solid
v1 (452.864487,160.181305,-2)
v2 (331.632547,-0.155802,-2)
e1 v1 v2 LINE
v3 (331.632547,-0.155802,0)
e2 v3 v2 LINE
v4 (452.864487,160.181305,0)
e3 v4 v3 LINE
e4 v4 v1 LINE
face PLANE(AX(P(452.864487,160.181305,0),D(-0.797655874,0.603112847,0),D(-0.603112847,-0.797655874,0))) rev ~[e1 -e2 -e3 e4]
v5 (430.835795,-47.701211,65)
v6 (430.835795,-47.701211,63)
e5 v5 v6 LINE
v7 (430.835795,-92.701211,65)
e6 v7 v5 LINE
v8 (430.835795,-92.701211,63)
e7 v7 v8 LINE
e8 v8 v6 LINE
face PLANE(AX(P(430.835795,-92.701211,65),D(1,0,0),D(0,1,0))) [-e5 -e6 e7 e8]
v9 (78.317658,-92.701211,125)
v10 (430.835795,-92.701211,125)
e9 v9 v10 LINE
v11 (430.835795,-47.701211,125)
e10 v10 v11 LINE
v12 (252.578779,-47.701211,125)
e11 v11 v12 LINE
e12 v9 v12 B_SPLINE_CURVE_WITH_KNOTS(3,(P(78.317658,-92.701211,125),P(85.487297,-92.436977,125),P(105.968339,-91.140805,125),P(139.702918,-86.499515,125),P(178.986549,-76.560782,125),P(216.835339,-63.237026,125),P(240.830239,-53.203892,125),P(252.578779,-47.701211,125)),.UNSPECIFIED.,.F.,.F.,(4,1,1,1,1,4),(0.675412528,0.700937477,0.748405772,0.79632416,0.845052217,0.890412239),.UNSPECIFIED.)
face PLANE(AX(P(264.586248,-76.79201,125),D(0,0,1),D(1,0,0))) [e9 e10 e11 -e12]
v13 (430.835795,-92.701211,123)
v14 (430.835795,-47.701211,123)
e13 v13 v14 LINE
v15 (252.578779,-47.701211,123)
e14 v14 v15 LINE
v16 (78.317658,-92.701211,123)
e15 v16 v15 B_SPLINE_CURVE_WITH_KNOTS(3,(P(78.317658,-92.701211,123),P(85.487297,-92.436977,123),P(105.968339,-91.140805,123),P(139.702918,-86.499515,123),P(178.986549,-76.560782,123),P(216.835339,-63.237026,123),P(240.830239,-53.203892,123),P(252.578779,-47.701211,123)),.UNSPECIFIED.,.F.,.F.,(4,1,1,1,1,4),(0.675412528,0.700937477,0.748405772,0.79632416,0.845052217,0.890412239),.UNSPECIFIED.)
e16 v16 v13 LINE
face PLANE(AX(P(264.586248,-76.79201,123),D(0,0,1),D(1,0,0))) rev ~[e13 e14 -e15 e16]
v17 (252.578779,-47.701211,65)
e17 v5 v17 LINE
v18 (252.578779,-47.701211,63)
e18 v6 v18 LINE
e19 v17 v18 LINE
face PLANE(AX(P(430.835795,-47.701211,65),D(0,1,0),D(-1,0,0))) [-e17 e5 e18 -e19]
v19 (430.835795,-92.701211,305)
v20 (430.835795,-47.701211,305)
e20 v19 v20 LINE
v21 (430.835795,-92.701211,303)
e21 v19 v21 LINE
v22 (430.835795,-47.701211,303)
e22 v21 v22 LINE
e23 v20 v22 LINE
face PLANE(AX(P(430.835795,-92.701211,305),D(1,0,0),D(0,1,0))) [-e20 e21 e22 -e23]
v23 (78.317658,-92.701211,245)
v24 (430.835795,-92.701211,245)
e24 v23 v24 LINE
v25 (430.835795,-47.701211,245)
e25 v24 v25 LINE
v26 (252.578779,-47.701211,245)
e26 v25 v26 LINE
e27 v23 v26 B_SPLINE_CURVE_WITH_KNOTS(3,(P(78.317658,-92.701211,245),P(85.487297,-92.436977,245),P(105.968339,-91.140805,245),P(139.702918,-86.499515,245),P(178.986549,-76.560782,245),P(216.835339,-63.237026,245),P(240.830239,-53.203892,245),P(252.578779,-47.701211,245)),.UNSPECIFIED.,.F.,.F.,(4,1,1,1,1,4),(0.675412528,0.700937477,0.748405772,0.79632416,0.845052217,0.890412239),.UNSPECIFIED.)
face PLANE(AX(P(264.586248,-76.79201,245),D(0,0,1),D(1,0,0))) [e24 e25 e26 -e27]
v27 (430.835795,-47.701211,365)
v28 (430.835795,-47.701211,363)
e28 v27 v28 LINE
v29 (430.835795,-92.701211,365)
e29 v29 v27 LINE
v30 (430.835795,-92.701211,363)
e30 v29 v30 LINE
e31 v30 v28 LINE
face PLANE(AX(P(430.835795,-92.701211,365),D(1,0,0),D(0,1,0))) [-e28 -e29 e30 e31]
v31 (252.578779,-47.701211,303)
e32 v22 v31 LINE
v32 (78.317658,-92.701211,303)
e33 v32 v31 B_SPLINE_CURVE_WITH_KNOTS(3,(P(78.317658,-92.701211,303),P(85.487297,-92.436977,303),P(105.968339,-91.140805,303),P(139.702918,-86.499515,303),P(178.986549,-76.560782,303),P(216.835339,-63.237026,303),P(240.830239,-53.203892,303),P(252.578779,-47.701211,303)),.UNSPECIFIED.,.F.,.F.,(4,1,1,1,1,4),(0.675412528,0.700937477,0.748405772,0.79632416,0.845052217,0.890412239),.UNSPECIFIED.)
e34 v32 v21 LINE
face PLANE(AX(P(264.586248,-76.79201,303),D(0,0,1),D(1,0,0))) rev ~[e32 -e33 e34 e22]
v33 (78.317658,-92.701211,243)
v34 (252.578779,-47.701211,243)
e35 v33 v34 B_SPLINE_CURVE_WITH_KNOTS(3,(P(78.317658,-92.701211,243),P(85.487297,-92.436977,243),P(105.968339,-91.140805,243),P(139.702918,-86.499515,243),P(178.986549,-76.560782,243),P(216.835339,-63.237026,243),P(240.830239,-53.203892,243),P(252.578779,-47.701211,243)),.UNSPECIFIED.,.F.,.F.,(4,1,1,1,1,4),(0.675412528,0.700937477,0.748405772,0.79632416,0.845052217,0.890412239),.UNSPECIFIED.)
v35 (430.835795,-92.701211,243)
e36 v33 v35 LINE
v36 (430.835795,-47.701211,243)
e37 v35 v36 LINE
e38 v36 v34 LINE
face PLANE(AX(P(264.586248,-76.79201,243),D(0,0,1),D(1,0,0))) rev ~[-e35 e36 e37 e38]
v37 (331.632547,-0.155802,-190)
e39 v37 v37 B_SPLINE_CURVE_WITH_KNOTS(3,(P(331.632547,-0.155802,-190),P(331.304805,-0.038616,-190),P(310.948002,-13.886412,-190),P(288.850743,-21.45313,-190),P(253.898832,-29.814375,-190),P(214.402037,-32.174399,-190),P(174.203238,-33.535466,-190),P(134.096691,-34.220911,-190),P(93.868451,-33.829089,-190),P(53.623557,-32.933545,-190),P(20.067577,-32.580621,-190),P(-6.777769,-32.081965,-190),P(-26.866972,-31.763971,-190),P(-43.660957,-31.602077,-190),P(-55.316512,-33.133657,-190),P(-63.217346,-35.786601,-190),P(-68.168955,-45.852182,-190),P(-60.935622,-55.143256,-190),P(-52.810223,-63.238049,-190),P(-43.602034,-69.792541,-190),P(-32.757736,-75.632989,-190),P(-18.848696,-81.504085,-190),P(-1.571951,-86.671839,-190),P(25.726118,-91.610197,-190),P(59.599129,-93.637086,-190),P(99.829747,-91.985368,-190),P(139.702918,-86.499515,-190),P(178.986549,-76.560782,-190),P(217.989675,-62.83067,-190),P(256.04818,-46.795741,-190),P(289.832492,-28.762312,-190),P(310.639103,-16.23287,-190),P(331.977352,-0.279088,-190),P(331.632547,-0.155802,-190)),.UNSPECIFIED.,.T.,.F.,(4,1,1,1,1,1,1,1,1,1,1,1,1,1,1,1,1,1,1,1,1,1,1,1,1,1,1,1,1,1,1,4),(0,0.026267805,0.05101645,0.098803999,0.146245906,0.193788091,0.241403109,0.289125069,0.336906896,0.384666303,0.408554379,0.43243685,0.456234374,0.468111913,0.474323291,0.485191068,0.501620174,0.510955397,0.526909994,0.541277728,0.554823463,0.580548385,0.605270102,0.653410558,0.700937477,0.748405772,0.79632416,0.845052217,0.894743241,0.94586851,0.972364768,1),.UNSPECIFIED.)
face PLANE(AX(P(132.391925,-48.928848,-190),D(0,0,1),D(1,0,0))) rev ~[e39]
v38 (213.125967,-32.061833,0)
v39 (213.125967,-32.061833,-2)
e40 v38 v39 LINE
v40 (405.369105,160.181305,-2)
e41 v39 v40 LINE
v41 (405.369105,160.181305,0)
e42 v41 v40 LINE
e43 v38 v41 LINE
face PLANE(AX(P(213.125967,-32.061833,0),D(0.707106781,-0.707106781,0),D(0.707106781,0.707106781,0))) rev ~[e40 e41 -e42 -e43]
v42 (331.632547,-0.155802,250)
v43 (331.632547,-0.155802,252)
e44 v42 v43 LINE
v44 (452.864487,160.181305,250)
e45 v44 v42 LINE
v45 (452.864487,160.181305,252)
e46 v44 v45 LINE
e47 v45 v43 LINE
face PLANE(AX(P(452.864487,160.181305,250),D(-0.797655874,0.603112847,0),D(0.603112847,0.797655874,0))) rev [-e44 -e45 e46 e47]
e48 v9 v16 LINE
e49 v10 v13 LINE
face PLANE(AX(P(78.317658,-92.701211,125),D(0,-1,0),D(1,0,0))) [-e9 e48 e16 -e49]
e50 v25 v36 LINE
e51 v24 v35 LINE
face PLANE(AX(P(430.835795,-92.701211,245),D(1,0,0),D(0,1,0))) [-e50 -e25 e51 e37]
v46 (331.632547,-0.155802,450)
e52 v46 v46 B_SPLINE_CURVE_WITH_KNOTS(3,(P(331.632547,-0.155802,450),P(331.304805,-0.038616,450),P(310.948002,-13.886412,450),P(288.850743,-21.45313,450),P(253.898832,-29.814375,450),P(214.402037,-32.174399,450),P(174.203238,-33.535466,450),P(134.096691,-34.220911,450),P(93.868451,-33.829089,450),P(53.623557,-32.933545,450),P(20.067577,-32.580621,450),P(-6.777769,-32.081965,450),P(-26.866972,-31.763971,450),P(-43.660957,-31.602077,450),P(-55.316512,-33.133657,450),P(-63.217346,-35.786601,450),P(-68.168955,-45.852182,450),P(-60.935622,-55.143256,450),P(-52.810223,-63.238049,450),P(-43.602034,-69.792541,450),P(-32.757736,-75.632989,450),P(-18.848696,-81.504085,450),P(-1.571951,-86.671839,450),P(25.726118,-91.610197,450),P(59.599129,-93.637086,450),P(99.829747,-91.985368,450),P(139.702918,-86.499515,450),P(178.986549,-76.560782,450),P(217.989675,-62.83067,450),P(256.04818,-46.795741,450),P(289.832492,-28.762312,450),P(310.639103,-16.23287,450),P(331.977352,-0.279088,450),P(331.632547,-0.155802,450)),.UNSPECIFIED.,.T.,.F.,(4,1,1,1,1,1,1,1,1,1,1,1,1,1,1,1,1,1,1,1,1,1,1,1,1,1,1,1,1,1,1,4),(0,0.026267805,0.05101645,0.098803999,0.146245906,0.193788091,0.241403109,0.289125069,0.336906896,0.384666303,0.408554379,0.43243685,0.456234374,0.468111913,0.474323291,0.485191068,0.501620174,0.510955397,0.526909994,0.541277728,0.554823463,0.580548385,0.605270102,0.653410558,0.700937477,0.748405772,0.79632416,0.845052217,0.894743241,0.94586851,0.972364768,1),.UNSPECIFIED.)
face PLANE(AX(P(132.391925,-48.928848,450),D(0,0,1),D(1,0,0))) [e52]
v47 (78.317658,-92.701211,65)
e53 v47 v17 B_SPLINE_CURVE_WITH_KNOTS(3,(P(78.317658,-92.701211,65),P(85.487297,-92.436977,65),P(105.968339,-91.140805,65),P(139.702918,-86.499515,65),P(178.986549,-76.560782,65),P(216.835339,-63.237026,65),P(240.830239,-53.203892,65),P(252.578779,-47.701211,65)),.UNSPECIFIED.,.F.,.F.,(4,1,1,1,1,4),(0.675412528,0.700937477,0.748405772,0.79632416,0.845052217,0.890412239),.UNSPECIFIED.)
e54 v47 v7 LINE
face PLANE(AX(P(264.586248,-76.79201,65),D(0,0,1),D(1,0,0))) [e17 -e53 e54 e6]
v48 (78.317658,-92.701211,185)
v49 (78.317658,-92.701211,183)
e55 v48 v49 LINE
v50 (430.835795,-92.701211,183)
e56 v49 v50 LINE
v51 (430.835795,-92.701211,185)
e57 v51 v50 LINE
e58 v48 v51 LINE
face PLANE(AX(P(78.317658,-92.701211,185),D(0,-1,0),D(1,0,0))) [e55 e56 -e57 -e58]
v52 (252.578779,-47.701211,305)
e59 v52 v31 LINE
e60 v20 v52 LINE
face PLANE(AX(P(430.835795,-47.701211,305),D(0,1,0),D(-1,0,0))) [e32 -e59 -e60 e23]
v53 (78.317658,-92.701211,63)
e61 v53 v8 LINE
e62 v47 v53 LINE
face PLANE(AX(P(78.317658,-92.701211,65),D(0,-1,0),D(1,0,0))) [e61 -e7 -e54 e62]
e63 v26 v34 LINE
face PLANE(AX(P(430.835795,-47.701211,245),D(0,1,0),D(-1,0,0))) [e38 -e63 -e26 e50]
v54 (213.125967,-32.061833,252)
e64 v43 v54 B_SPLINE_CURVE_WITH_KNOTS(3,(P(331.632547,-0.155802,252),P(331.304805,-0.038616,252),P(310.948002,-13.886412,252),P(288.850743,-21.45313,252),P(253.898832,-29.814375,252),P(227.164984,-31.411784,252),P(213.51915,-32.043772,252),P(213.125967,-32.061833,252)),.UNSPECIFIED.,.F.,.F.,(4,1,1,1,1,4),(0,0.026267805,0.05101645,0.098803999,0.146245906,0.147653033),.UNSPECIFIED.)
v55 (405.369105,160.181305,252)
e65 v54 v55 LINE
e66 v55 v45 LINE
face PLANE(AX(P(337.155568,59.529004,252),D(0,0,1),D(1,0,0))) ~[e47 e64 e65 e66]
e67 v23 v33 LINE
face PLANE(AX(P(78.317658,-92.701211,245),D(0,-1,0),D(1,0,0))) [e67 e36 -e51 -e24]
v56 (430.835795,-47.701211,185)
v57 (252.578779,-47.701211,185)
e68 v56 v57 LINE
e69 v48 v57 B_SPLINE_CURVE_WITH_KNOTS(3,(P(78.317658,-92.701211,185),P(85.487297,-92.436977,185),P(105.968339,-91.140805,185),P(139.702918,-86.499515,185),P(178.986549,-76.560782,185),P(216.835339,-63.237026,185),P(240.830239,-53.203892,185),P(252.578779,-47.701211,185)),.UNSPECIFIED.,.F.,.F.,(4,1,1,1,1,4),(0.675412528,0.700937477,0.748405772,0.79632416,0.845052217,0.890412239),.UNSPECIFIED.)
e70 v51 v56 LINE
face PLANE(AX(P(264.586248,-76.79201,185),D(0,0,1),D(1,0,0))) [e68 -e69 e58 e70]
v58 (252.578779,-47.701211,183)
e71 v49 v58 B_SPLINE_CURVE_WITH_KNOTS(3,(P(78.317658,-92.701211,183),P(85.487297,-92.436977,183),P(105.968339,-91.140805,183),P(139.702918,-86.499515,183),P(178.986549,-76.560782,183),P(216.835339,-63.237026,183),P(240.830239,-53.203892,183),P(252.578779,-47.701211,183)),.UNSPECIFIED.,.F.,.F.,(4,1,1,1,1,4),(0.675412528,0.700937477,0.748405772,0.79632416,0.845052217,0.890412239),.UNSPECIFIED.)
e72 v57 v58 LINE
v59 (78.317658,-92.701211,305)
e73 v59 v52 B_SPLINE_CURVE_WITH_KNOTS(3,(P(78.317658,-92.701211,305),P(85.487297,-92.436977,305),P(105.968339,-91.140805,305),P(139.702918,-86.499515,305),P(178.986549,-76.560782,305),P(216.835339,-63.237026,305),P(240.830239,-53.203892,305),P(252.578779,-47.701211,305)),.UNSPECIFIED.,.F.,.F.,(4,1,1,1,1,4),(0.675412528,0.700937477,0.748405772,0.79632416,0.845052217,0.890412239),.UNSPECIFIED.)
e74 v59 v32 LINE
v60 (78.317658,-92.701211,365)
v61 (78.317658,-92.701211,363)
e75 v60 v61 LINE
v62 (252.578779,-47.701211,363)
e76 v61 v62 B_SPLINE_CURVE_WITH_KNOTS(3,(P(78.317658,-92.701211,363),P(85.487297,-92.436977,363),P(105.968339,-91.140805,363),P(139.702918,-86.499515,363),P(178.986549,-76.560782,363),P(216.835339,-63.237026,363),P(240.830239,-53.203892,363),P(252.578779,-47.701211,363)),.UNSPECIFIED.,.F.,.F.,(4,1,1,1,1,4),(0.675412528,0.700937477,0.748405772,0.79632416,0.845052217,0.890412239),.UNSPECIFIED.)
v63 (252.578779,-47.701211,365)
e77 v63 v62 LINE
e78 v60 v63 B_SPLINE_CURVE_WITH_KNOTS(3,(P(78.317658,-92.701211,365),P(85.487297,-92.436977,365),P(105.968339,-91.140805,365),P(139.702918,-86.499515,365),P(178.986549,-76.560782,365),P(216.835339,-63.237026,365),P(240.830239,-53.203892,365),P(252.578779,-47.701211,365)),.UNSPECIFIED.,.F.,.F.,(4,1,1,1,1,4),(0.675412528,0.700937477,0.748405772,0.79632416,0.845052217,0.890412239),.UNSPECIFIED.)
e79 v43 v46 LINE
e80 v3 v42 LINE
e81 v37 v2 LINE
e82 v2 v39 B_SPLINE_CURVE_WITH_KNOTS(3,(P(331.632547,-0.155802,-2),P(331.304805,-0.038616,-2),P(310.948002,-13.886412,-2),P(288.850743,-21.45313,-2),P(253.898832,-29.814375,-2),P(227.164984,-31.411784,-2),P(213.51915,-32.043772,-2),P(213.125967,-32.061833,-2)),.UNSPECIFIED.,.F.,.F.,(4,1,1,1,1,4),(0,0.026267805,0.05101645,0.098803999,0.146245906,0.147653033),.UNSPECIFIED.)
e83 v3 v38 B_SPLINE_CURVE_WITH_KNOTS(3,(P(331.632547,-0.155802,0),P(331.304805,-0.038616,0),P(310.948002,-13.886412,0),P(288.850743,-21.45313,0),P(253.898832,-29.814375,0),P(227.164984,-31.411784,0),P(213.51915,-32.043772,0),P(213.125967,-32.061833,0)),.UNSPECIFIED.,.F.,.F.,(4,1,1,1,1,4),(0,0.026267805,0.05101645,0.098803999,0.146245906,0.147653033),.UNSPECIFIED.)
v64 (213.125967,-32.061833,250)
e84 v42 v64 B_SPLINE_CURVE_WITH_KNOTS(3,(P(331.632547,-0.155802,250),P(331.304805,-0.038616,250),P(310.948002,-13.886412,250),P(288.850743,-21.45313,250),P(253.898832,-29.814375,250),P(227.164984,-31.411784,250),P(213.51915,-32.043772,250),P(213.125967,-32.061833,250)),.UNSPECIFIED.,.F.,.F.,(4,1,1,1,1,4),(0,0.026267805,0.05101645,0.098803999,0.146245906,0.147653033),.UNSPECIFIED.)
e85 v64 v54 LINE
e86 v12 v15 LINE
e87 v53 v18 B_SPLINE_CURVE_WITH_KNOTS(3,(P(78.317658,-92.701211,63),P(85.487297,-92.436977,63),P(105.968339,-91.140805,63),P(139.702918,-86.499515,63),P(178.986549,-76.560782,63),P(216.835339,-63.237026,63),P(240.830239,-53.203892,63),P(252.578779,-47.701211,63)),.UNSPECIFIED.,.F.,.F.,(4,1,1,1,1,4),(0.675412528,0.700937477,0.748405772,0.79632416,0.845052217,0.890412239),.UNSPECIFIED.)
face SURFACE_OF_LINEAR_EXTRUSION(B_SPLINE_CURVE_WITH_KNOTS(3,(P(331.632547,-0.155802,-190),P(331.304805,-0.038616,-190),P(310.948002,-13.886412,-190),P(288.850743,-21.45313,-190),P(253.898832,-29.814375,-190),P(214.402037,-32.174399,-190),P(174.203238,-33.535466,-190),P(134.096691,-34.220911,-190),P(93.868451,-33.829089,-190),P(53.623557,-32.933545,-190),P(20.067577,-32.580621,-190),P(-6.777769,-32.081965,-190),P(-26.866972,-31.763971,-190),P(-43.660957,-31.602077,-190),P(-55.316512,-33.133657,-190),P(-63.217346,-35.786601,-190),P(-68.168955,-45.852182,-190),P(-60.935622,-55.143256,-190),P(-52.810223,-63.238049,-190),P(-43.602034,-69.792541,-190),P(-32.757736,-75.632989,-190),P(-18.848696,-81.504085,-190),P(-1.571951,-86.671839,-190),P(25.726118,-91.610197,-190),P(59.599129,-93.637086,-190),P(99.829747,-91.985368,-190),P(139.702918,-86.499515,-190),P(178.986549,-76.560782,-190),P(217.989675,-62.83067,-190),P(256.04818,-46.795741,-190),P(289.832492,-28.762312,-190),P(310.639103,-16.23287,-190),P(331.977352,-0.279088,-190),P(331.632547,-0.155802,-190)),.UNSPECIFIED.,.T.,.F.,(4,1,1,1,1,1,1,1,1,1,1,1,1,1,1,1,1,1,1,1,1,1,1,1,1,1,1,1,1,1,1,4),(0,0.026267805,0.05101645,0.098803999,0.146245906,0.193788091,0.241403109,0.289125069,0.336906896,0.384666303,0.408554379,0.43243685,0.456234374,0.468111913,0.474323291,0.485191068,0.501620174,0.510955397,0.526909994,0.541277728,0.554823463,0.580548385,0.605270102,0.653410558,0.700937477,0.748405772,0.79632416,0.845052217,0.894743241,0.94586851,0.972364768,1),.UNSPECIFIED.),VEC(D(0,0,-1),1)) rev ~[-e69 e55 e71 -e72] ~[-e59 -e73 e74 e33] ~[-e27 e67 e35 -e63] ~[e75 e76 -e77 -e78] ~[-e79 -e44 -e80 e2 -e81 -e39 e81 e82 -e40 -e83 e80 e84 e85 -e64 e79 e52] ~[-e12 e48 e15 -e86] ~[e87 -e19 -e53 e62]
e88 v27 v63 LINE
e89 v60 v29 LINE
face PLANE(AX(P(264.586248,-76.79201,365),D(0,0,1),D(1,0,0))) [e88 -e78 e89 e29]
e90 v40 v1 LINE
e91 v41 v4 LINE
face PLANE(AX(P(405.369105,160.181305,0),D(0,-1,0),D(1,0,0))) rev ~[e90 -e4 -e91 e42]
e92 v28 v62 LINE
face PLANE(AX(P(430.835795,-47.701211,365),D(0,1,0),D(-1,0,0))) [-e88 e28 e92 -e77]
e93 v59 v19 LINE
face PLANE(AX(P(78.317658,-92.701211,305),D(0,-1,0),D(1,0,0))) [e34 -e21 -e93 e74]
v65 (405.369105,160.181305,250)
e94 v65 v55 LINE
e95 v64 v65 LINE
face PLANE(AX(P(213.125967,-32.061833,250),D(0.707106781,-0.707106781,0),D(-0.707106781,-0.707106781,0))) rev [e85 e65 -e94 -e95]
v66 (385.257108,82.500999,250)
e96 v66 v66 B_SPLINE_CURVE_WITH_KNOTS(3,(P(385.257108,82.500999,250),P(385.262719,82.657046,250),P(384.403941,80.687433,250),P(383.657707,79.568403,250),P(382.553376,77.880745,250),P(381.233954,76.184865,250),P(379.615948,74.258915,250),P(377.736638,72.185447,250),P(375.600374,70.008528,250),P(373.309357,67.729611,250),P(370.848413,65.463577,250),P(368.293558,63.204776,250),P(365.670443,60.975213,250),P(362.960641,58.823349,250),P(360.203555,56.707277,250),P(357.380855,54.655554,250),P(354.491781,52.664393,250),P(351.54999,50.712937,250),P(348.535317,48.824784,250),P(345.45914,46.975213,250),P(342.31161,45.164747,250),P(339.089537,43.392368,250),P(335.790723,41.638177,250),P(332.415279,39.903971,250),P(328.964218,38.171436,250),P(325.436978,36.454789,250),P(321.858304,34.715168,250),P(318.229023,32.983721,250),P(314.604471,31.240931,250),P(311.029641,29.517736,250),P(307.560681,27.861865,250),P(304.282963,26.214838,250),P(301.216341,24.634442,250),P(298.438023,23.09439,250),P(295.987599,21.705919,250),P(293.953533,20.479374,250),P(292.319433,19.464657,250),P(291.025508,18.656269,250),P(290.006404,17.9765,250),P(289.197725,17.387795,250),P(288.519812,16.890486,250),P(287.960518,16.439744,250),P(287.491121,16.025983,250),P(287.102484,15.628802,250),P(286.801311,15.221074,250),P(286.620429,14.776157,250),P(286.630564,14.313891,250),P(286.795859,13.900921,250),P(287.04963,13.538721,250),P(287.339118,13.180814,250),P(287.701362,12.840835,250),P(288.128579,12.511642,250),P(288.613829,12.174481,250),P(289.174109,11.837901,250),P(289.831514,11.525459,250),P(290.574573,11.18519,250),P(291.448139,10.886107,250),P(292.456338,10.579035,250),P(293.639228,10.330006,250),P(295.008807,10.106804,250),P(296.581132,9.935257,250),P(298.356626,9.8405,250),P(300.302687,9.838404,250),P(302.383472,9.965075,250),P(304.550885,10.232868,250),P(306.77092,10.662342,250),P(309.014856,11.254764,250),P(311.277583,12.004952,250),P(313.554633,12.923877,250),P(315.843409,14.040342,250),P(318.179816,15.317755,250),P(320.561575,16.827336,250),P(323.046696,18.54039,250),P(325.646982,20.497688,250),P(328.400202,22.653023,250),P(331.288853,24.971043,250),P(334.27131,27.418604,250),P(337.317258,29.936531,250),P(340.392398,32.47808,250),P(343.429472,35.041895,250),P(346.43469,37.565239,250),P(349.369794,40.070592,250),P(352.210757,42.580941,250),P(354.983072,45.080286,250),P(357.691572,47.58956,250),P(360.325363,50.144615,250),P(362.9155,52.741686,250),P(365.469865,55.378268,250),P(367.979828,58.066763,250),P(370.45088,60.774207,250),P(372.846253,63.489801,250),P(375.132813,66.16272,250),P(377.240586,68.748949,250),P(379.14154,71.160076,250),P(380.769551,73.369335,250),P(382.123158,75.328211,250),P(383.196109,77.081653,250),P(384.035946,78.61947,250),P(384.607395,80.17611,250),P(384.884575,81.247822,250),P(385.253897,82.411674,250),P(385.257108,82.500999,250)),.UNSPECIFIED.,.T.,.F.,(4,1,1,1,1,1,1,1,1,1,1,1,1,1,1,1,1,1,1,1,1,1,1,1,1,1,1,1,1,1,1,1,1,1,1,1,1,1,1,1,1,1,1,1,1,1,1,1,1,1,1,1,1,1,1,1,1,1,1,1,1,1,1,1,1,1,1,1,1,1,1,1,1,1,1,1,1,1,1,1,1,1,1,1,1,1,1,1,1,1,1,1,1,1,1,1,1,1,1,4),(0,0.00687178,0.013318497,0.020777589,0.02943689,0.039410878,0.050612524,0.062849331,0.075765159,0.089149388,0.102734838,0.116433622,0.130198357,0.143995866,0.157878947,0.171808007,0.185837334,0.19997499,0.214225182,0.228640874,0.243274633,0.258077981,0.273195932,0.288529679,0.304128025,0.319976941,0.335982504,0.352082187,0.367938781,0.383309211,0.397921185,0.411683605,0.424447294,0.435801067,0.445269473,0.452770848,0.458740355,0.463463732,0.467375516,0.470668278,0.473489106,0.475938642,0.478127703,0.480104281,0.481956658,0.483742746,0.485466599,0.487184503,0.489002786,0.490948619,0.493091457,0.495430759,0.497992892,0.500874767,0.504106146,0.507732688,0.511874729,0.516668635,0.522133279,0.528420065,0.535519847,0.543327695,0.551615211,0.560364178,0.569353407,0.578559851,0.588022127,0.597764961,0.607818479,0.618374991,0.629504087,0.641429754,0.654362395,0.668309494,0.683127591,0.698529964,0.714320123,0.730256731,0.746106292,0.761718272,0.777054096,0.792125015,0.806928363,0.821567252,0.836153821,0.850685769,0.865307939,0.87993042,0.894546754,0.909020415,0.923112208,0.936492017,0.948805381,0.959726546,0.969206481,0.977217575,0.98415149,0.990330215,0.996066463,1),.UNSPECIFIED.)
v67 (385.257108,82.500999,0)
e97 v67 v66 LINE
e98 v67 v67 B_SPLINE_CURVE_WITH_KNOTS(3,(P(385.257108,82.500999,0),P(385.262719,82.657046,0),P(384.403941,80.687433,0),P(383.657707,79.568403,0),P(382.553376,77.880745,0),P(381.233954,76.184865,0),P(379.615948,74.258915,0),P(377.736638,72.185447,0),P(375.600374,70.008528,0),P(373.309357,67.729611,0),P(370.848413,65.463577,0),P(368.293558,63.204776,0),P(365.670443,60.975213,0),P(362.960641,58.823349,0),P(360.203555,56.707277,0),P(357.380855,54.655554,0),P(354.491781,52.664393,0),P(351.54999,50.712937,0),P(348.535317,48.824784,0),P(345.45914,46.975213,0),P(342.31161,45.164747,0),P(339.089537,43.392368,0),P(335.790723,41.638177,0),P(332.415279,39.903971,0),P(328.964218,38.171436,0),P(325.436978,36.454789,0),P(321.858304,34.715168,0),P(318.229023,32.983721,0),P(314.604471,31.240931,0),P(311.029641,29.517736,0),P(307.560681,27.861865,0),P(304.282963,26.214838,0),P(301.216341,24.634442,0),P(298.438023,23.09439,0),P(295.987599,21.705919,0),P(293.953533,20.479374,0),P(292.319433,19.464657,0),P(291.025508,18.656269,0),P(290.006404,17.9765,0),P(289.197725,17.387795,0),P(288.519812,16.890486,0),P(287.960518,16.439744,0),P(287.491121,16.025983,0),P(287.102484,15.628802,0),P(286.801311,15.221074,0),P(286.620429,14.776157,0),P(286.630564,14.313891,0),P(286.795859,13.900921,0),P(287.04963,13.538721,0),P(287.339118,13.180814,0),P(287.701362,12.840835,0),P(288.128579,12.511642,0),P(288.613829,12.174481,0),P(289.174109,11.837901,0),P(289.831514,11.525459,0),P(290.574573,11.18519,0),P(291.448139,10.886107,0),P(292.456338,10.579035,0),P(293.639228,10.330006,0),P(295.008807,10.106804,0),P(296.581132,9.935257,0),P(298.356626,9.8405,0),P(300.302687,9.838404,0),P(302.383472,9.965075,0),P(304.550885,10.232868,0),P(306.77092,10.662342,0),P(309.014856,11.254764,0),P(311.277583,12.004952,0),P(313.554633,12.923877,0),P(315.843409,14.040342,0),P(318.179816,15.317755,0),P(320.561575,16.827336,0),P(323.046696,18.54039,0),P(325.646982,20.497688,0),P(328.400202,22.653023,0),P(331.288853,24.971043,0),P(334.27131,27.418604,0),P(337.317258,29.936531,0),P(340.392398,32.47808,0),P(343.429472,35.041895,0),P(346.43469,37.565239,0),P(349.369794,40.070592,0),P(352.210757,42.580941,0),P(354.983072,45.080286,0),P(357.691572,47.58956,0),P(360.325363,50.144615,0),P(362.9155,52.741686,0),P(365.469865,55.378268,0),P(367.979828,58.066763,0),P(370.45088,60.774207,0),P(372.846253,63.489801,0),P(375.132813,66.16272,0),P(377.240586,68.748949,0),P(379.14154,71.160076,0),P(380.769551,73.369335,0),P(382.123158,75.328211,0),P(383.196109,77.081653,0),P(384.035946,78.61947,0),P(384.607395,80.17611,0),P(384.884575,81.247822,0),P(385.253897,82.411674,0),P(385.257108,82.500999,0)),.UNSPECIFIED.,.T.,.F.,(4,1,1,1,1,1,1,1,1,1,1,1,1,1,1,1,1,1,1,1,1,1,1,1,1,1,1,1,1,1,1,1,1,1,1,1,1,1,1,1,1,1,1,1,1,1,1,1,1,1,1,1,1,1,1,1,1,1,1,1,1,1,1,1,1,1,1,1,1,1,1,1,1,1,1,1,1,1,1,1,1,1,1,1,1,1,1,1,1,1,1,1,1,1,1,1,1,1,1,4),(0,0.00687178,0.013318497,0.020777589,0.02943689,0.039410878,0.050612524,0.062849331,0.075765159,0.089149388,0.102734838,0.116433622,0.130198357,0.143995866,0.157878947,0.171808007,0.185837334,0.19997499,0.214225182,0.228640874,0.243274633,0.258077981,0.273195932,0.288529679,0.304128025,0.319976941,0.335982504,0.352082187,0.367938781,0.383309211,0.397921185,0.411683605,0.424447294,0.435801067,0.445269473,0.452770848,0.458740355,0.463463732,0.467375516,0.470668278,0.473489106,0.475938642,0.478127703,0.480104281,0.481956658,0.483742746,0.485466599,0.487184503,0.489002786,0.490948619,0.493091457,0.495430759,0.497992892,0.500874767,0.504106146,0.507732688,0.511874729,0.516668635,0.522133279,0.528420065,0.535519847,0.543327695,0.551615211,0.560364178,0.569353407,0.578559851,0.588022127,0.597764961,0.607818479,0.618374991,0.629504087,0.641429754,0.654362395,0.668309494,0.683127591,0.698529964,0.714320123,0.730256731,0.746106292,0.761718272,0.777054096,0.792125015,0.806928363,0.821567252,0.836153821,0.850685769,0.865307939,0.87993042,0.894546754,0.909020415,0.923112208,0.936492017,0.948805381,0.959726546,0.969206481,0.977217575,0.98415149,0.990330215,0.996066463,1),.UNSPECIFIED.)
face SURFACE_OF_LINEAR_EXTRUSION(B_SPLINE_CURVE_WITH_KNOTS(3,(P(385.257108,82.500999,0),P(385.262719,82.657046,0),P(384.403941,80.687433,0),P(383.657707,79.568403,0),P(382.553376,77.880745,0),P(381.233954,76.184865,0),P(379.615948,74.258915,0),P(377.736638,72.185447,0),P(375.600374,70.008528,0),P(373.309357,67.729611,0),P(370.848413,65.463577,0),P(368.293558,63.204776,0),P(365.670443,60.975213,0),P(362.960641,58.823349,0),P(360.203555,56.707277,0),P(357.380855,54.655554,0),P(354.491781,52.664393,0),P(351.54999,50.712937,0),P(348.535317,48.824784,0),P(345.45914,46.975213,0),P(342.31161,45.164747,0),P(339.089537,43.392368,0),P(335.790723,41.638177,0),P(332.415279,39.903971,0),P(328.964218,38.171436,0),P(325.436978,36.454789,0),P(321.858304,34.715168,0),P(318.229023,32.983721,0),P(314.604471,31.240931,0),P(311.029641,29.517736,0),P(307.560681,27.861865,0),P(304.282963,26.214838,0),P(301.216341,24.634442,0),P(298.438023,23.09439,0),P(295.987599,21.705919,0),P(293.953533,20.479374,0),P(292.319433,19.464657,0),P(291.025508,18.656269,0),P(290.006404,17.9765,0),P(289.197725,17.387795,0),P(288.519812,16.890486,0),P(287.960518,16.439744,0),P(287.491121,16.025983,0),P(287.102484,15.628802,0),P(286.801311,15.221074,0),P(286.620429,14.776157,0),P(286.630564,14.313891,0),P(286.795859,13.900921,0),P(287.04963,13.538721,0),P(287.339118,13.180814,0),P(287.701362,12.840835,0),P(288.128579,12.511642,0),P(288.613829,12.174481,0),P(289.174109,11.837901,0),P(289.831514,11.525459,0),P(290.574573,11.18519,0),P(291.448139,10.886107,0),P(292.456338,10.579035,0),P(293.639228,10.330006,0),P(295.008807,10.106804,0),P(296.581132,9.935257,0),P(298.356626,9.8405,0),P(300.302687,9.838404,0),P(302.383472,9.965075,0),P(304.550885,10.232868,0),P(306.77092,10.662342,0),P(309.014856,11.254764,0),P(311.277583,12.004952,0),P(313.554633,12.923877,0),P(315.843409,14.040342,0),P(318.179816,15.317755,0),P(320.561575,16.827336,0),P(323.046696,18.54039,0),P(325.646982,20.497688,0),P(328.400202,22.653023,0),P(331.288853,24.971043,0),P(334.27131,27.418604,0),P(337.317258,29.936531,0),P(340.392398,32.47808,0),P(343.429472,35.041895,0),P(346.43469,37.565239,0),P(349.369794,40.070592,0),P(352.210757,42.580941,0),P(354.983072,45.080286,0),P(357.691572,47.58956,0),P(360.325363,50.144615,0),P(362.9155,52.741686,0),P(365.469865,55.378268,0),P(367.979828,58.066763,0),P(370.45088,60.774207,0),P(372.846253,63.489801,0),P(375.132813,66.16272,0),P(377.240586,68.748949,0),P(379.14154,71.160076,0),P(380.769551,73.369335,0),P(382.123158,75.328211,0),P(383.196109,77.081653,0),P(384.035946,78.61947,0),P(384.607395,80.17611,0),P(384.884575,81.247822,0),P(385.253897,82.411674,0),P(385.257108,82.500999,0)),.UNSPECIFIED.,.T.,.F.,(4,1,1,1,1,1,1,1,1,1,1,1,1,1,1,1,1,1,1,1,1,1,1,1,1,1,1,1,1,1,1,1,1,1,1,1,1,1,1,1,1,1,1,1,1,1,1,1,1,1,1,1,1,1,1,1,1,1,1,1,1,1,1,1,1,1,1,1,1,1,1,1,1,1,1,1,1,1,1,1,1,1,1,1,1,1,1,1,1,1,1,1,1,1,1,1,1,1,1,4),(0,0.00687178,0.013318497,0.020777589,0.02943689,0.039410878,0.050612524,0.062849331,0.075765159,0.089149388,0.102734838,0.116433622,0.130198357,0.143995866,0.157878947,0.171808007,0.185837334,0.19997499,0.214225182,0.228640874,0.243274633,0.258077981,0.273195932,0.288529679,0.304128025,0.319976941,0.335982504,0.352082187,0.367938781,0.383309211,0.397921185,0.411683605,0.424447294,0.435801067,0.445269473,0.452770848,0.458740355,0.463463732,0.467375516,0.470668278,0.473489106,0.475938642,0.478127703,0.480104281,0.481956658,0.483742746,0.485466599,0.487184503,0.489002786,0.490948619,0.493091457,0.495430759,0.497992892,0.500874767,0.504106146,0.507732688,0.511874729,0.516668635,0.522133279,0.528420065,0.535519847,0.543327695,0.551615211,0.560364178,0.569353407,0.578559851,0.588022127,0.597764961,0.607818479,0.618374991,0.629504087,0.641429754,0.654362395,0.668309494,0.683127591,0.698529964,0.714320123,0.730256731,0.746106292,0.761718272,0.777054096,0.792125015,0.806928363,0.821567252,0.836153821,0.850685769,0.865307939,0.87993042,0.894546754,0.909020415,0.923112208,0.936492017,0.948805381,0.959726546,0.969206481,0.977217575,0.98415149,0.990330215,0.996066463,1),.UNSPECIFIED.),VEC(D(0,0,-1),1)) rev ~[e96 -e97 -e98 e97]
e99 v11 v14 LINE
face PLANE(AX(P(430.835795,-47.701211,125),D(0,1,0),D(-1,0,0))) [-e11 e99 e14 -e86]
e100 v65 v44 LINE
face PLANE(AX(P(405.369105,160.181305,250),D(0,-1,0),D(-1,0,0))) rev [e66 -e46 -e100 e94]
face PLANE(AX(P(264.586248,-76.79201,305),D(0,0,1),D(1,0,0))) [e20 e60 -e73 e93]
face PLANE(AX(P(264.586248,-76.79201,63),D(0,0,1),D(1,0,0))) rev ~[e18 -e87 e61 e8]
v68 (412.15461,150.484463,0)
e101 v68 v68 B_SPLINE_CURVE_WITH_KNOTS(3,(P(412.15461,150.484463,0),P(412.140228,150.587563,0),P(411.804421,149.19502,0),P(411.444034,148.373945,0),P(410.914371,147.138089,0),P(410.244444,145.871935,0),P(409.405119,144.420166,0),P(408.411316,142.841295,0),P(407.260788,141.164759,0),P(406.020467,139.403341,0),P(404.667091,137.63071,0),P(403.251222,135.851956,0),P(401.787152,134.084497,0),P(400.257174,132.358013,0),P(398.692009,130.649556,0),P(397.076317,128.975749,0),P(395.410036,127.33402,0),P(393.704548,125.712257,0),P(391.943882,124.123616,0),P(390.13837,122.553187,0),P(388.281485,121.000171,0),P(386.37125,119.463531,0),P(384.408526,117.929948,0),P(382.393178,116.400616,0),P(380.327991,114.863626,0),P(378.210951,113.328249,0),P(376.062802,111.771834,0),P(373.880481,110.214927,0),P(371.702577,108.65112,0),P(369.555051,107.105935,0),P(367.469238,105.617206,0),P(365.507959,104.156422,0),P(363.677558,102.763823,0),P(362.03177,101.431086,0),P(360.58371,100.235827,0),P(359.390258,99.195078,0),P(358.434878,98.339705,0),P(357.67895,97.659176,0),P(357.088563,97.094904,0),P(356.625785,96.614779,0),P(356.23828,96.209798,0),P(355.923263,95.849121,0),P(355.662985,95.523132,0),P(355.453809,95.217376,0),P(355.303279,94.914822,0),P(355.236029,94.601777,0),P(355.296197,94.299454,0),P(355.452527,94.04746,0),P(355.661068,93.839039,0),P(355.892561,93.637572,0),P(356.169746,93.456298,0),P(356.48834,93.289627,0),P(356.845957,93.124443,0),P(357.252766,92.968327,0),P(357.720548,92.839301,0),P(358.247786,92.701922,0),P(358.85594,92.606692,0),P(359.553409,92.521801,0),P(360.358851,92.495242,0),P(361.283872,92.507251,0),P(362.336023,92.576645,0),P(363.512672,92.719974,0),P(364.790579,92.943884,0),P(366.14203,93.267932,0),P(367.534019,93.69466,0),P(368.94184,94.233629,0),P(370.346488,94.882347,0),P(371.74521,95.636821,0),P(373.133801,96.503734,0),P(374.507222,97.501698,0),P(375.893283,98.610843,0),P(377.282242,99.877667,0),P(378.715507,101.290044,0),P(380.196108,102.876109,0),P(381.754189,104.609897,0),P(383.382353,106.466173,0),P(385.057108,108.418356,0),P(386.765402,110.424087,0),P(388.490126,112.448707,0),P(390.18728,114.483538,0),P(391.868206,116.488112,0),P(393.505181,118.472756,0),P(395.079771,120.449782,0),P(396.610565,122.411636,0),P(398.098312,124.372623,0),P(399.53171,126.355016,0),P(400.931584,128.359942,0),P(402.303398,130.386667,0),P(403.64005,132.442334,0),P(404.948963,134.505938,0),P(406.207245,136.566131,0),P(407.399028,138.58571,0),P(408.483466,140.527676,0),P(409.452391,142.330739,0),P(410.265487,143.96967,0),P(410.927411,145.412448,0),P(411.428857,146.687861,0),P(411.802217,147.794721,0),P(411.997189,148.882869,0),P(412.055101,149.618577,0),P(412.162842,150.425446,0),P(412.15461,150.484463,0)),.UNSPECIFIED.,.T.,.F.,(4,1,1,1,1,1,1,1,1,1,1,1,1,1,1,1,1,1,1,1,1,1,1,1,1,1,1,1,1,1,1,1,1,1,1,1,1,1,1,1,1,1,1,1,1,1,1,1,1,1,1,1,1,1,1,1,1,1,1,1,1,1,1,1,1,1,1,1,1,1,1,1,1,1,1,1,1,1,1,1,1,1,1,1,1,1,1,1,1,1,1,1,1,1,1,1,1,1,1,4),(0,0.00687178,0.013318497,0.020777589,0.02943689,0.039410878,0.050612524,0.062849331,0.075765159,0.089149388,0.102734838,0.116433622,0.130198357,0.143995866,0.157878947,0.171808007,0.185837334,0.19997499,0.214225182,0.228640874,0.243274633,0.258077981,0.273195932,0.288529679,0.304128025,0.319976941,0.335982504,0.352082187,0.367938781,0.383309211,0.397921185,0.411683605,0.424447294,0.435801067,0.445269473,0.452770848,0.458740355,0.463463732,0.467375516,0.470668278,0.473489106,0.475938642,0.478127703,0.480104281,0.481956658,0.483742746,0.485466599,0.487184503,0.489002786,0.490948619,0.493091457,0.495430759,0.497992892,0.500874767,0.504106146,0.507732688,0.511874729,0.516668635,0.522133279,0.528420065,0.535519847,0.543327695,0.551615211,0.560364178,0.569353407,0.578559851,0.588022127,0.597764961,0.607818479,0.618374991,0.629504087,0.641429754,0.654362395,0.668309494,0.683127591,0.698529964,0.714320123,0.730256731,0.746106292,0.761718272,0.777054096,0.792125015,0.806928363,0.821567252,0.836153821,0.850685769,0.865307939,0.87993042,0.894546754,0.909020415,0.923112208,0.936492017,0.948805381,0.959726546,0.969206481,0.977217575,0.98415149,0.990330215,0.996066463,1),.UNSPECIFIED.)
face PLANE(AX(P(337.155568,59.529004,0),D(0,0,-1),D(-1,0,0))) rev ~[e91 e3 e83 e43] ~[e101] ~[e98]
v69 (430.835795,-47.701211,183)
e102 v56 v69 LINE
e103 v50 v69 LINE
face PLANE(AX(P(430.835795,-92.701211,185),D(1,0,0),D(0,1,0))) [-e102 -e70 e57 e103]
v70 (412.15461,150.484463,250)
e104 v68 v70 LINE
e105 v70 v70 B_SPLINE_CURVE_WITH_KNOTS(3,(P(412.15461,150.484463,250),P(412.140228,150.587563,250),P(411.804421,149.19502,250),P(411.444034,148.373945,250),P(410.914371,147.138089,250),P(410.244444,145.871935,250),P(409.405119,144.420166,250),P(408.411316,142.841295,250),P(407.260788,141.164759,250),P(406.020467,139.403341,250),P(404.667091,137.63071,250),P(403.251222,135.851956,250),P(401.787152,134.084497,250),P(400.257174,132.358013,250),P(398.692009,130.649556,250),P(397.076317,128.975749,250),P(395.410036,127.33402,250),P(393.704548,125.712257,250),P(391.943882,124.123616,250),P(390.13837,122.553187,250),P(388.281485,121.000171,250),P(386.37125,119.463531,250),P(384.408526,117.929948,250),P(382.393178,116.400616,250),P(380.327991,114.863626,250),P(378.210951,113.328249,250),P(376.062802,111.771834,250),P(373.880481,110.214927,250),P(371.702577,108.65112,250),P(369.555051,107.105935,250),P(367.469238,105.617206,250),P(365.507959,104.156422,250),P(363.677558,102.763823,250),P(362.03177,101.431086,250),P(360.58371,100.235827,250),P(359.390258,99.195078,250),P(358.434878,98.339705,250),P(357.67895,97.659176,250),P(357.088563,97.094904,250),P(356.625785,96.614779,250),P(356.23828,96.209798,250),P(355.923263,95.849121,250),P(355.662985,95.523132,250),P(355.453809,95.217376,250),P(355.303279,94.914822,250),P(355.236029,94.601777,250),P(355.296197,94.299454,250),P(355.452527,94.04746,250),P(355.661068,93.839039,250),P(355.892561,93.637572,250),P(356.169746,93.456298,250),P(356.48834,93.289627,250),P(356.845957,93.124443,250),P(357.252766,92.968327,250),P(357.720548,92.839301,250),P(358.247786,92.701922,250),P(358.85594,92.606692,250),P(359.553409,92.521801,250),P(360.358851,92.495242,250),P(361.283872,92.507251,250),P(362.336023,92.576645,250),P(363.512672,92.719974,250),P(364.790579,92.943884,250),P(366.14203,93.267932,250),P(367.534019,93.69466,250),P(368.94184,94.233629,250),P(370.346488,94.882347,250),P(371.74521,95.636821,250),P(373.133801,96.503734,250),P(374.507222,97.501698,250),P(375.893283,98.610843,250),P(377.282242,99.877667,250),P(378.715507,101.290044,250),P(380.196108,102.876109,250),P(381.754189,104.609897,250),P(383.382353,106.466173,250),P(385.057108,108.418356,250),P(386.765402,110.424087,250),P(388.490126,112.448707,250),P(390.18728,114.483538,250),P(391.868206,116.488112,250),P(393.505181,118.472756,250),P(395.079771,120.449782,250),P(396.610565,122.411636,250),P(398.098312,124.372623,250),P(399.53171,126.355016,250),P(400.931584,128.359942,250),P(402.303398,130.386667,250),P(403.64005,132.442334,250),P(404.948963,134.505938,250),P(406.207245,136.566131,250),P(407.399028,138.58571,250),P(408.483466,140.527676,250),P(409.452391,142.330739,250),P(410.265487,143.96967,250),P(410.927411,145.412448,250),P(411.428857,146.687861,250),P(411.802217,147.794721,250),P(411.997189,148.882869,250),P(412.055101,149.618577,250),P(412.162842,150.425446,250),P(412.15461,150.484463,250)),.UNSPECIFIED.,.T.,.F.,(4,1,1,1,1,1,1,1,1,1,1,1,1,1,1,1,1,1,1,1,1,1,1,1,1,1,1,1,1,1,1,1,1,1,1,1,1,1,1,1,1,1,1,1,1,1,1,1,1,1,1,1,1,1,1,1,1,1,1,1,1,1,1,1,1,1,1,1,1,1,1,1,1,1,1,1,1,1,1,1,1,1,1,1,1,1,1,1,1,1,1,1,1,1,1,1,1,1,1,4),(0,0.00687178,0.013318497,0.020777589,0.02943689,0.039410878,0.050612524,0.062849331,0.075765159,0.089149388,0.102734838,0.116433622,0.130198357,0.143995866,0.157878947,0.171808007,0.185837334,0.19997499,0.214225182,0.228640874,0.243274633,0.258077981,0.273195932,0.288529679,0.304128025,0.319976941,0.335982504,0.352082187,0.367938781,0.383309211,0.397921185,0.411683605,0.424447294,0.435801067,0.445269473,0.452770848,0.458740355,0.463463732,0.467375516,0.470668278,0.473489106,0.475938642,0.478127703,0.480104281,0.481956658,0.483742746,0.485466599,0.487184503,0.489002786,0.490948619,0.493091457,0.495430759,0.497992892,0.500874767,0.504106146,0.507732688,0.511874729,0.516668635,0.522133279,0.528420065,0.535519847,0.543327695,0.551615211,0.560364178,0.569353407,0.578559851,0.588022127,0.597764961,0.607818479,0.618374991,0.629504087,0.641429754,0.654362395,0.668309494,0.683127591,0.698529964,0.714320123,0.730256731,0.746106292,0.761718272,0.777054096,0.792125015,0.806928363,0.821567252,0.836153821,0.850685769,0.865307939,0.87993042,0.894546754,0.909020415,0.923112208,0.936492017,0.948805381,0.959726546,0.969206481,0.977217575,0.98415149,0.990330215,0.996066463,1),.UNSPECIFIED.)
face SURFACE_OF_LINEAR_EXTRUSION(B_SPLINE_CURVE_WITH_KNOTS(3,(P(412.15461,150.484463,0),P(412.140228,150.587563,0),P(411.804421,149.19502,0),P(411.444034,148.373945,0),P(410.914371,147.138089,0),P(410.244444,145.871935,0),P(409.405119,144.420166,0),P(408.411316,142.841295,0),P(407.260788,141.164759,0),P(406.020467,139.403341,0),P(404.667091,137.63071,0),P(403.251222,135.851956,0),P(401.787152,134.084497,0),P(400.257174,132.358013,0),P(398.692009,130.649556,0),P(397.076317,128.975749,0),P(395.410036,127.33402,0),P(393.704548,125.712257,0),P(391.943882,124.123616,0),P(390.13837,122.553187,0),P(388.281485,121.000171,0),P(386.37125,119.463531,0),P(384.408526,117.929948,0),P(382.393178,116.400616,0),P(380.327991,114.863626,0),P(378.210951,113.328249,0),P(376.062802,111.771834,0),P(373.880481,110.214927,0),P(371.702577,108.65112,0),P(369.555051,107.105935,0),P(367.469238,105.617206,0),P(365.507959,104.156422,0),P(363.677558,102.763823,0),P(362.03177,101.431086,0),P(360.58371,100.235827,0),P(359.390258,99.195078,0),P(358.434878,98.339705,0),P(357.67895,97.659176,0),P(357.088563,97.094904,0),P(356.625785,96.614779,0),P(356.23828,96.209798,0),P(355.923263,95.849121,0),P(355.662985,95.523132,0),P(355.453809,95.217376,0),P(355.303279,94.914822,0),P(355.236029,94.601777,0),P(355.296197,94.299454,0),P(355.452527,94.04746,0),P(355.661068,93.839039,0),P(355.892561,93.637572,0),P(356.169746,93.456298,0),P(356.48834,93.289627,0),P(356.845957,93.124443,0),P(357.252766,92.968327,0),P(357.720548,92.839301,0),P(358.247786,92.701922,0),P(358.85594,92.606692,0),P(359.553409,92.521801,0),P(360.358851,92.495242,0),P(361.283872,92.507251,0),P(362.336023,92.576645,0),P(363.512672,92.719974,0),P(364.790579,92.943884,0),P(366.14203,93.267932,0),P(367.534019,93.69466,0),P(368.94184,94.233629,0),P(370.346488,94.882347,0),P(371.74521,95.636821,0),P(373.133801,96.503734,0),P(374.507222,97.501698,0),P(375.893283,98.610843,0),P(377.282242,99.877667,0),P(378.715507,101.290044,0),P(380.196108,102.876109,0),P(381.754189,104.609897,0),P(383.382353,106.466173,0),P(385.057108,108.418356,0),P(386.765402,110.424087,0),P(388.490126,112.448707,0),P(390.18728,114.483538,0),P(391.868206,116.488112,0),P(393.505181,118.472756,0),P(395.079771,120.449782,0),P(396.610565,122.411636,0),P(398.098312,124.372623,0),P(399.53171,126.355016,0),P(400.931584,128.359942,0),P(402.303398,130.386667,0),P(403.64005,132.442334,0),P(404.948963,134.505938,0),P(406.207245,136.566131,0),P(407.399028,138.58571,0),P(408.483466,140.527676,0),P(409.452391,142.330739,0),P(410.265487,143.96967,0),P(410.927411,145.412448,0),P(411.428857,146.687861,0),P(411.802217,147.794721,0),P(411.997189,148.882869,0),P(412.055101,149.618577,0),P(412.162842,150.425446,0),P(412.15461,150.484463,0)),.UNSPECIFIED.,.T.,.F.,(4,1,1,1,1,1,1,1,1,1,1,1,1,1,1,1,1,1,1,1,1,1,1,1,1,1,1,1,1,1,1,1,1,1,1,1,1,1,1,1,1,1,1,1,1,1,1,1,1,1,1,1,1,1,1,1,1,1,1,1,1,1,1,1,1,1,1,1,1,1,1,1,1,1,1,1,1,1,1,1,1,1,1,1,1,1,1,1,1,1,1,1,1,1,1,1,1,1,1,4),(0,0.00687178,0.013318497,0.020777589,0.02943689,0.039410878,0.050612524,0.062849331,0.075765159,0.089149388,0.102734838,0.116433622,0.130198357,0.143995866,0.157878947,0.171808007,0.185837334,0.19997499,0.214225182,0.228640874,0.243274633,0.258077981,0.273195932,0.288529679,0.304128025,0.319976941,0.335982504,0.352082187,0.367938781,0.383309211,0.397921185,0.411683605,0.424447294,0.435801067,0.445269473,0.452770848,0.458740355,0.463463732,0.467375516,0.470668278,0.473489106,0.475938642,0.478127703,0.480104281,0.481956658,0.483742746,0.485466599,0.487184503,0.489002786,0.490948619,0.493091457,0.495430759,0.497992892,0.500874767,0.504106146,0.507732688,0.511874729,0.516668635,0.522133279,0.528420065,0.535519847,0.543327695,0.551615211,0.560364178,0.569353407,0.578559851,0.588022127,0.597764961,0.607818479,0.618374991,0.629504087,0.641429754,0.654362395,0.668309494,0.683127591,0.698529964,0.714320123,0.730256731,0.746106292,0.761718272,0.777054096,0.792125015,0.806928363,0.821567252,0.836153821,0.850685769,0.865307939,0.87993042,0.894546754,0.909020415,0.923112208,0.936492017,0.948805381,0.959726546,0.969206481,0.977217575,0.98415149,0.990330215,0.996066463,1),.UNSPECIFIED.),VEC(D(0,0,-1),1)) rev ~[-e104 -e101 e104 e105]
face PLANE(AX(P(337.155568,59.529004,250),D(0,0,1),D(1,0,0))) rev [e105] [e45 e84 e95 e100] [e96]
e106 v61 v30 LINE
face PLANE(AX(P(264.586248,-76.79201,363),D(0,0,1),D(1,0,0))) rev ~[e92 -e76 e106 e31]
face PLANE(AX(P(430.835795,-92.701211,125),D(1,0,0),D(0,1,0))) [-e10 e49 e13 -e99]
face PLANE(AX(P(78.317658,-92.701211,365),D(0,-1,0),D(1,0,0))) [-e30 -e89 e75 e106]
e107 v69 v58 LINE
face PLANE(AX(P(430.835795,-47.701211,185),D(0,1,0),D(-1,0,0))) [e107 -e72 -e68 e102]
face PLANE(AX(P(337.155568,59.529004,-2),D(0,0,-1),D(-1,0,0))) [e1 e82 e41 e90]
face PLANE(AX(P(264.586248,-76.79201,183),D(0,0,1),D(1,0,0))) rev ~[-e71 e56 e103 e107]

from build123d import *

# Parameters (mm, degrees)
BOSS_EXTRUDE1_DEPTH      = 450
BOSS_EXTRUDE1_DEPTH_BACK = 190
BOSS_EXTRUDE2_DEPTH      = 250
BOSS_EXTRUDE3_DEPTH      = 250
BOSS_EXTRUDE4_DEPTH      = 2
BOSS_EXTRUDE5_DEPTH      = 2
LPATTERN1_COUNT          = 6
LPATTERN1_PITCH          = 60


with BuildPart() as part:
    # Sketch2 → Boss-Extrude1 (new, two sides: drawn at the far end of the back side and taken through both)
    with BuildSketch(Plane.XY.offset(-BOSS_EXTRUDE1_DEPTH_BACK)):
        with BuildLine():
            add(Edge.make_bspline(
                [(331.632547469, -0.155801536), (331.304804648, -0.038615704), (310.948001787, -13.886411779), (288.850742925, -21.453130062), (253.898831549, -29.814375257), (214.402036751, -32.174399069), (174.203238421, -33.535466036), (134.096691432, -34.220910528), (93.868451095, -33.829088664), (53.62355674, -32.933544742), (20.067576666, -32.58062124), (-6.777768577, -32.081964586), (-26.866972083, -31.763971163), (-43.660957345, -31.602077129), (-55.316512, -33.133657225), (-63.217346314, -35.786601004), (-68.168954816, -45.852182452), (-60.935621688, -55.143256382), (-52.810223066, -63.238049464), (-43.602034193, -69.792541019), (-32.757735565, -75.632989434), (-18.848696071, -81.50408464), (-1.571951466, -86.671839376), (25.726118264, -91.610196978), (59.59912915, -93.637086079), (99.829747098, -91.985368399), (139.702918156, -86.499514592), (178.98654912, -76.560782021), (217.989675389, -62.830670059), (256.048180454, -46.795741281), (289.832491564, -28.762312202), (310.639103485, -16.232870327), (331.977351639, -0.279087725), (331.632547469, -0.155801536)],
                knots=[0, 0, 0, 0, 0.026267805, 0.05101645, 0.098803999, 0.146245906, 0.193788091, 0.241403109, 0.289125069, 0.336906896, 0.384666303, 0.408554379, 0.43243685, 0.456234374, 0.468111913, 0.474323291, 0.485191068, 0.501620174, 0.510955397, 0.526909994, 0.541277728, 0.554823463, 0.580548385, 0.605270102, 0.653410558, 0.700937477, 0.748405772, 0.79632416, 0.845052217, 0.894743241, 0.94586851, 0.972364768, 1, 1, 1, 1], degree=3))
        make_face()
    extrude(amount=BOSS_EXTRUDE1_DEPTH + BOSS_EXTRUDE1_DEPTH_BACK)



with BuildPart() as body_2:
    # Sketch2<3> → Boss-Extrude2 (new body)
    with BuildSketch(Plane.XY):
        with BuildLine():
            add(Edge.make_bspline(
                [(385.257108205, 82.500998533), (385.262718652, 82.657045888), (384.403940943, 80.687432876), (383.657706576, 79.56840288), (382.553376289, 77.880744826), (381.233954331, 76.184864639), (379.61594752, 74.258915124), (377.736638316, 72.185446603), (375.60037444, 70.008528092), (373.309357382, 67.729611065), (370.848412879, 65.463576841), (368.293558252, 63.204775791), (365.670442902, 60.975213159), (362.960640755, 58.823348985), (360.203555415, 56.707277406), (357.380855488, 54.655553979), (354.491780752, 52.664392505), (351.549990289, 50.712937144), (348.535317242, 48.824783821), (345.459140164, 46.97521262), (342.311610123, 45.164747337), (339.089536673, 43.392367707), (335.790722934, 41.638176888), (332.415279089, 39.903970969), (328.964217848, 38.171435976), (325.436978114, 36.454789012), (321.858304333, 34.715167763), (318.229022674, 32.983721032), (314.604470592, 31.240931416), (311.029640761, 29.517736405), (307.560681425, 27.861865366), (304.282963455, 26.214837697), (301.21634104, 24.634441536), (298.438022747, 23.094390469), (295.987599383, 21.705919431), (293.95353301, 20.479373817), (292.319432576, 19.464657151), (291.025508113, 18.656269033), (290.006404313, 17.976500048), (289.197724902, 17.387794544), (288.519811704, 16.890485717), (287.960517662, 16.43974363), (287.491120754, 16.025982717), (287.102483552, 15.628801651), (286.801311256, 15.221074048), (286.620429119, 14.776157027), (286.630563726, 14.313890741), (286.79585874, 13.900921156), (287.049630073, 13.538720769), (287.33911776, 13.180813577), (287.701362098, 12.840834513), (288.12857904, 12.511641561), (288.613828785, 12.17448135), (289.174108848, 11.837901495), (289.831514382, 11.525459152), (290.574572898, 11.185189517), (291.448138906, 10.886107434), (292.456337958, 10.57903469), (293.639228133, 10.330006302), (295.008806857, 10.106803979), (296.581131911, 9.935256527), (298.356625654, 9.840500169), (300.302687346, 9.838403517), (302.383471629, 9.965075455), (304.550884742, 10.23286767), (306.770919976, 10.662341838), (309.014855996, 11.254763585), (311.277583013, 12.004951978), (313.554633497, 12.923876771), (315.843408831, 14.040342457), (318.179815559, 15.317754704), (320.56157534, 16.827336468), (323.046696009, 18.540389618), (325.646982127, 20.497688236), (328.400201588, 22.653022964), (331.288852626, 24.971043441), (334.271310095, 27.418603889), (337.317258268, 29.936530581), (340.392398086, 32.478079948), (343.429471804, 35.041894513), (346.434689872, 37.565239214), (349.369794303, 40.070591518), (352.210756975, 42.580941419), (354.983071887, 45.080285535), (357.691572396, 47.589560364), (360.325362768, 50.144615375), (362.915500017, 52.741685683), (365.469865367, 55.378268458), (367.979827785, 58.066762505), (370.450880224, 60.774207375), (372.8462526, 63.48980126), (375.132812849, 66.162720111), (377.240585914, 68.748948508), (379.141540172, 71.160075747), (380.769551114, 73.369334894), (382.123157635, 75.328211383), (383.196109299, 77.0816532), (384.035946379, 78.61947015), (384.607394543, 80.176109737), (384.884574537, 81.247822033), (385.253896678, 82.411674068), (385.257108205, 82.500998533)],
                knots=[0, 0, 0, 0, 0.00687178, 0.013318497, 0.020777589, 0.02943689, 0.039410878, 0.050612524, 0.062849331, 0.075765159, 0.089149388, 0.102734838, 0.116433622, 0.130198357, 0.143995866, 0.157878947, 0.171808007, 0.185837334, 0.19997499, 0.214225182, 0.228640874, 0.243274633, 0.258077981, 0.273195932, 0.288529679, 0.304128025, 0.319976941, 0.335982504, 0.352082187, 0.367938781, 0.383309211, 0.397921185, 0.411683605, 0.424447294, 0.435801067, 0.445269473, 0.452770848, 0.458740355, 0.463463732, 0.467375516, 0.470668278, 0.473489106, 0.475938642, 0.478127703, 0.480104281, 0.481956658, 0.483742746, 0.485466599, 0.487184503, 0.489002786, 0.490948619, 0.493091457, 0.495430759, 0.497992892, 0.500874767, 0.504106146, 0.507732688, 0.511874729, 0.516668635, 0.522133279, 0.528420065, 0.535519847, 0.543327695, 0.551615211, 0.560364178, 0.569353407, 0.578559851, 0.588022127, 0.597764961, 0.607818479, 0.618374991, 0.629504087, 0.641429754, 0.654362395, 0.668309494, 0.683127591, 0.698529964, 0.714320123, 0.730256731, 0.746106292, 0.761718272, 0.777054096, 0.792125015, 0.806928363, 0.821567252, 0.836153821, 0.850685769, 0.865307939, 0.87993042, 0.894546754, 0.909020415, 0.923112208, 0.936492017, 0.948805381, 0.959726546, 0.969206481, 0.977217575, 0.98415149, 0.990330215, 0.996066463, 1, 1, 1, 1], degree=3))
        make_face()
    extrude(amount=BOSS_EXTRUDE2_DEPTH)


with BuildPart() as body_3:
    # Sketch2<4> → Boss-Extrude3 (new body)
    with BuildSketch(Plane.XY):
        with BuildLine():
            add(Edge.make_bspline(
                [(412.154609526, 150.484462569), (412.140228109, 150.587563161), (411.804420618, 149.195019595), (411.444034038, 148.37394516), (410.914371183, 147.138089374), (410.244444203, 145.871935257), (409.405118851, 144.420165959), (408.411316021, 142.841294963), (407.26078849, 141.164758592), (406.020467443, 139.403341197), (404.667091101, 137.630710129), (403.251221795, 135.851956371), (401.787151898, 134.084496527), (400.257173984, 132.358013376), (398.692009287, 130.649555681), (397.076316795, 128.975749124), (395.410035703, 127.33401991), (393.704548111, 125.712256629), (391.943882107, 124.123616288), (390.138369862, 122.553186552), (388.281484535, 121.000171151), (386.371249588, 119.463530895), (384.40852605, 117.929948419), (382.393178336, 116.400615682), (380.327991454, 114.863626089), (378.210951174, 113.328248762), (376.062802091, 111.771833645), (373.880480661, 110.214926771), (371.702577493, 108.651120378), (369.55505052, 107.105934717), (367.469237813, 105.61720598), (365.507958669, 104.156422401), (363.677558258, 102.763822543), (362.031770035, 101.43108645), (360.583709728, 100.235827387), (359.390258446, 99.195078354), (358.434877728, 98.339705419), (357.678949914, 97.659175745), (357.088562796, 97.094904222), (356.625785385, 96.614779255), (356.238280452, 96.209797935), (355.92326274, 95.849121473), (355.662984816, 95.523131558), (355.453809375, 95.217376135), (355.303278937, 94.914821918), (355.23602887, 94.601776861), (355.296197095, 94.299454484), (355.452527247, 94.047459503), (355.661068189, 93.839038956), (355.892561289, 93.637571778), (356.169746474, 93.456297812), (356.488340016, 93.289626927), (356.845956661, 93.124443423), (357.252766413, 92.968326863), (357.720548487, 92.839301284), (358.24778648, 92.701921672), (358.855939571, 92.606691533), (359.553409481, 92.521801073), (360.358851308, 92.495242163), (361.283871589, 92.507251144), (362.336022794, 92.576644557), (363.512672308, 92.719974196), (364.790579456, 92.943884373), (366.142030218, 93.267932311), (367.53401929, 93.694659769), (368.941839626, 94.233629477), (370.346488048, 94.882347431), (371.745209556, 95.63682061), (373.133801126, 96.503733895), (374.507222101, 97.501697714), (375.893282868, 98.610843218), (377.282242452, 99.877667265), (378.715507482, 101.290043731), (380.196107875, 102.876108931), (381.754189157, 104.609896859), (383.382353095, 106.466172544), (385.057108313, 108.418355749), (386.765401642, 110.424087135), (388.490125721, 112.448707099), (390.187280399, 114.483538284), (391.868205628, 116.488111662), (393.505181453, 118.472755601), (395.07977104, 120.449782292), (396.610564819, 122.411636222), (398.098312352, 124.372622544), (399.531710039, 126.355016465), (400.931583852, 128.359941524), (402.303397855, 130.386666888), (403.640050093, 132.442333676), (404.948962582, 134.505937977), (406.20724482, 136.566131284), (407.399028003, 138.585710102), (408.483466274, 140.527675921), (409.452390702, 142.330738615), (410.265486683, 143.969669729), (410.927411259, 145.412448434), (411.428857353, 146.687861232), (411.802216658, 147.794721388), (411.997189294, 148.882869166), (412.055101374, 149.618577418), (412.162841723, 150.425445835), (412.154609526, 150.484462569)],
                knots=[0, 0, 0, 0, 0.00687178, 0.013318497, 0.020777589, 0.02943689, 0.039410878, 0.050612524, 0.062849331, 0.075765159, 0.089149388, 0.102734838, 0.116433622, 0.130198357, 0.143995866, 0.157878947, 0.171808007, 0.185837334, 0.19997499, 0.214225182, 0.228640874, 0.243274633, 0.258077981, 0.273195932, 0.288529679, 0.304128025, 0.319976941, 0.335982504, 0.352082187, 0.367938781, 0.383309211, 0.397921185, 0.411683605, 0.424447294, 0.435801067, 0.445269473, 0.452770848, 0.458740355, 0.463463732, 0.467375516, 0.470668278, 0.473489106, 0.475938642, 0.478127703, 0.480104281, 0.481956658, 0.483742746, 0.485466599, 0.487184503, 0.489002786, 0.490948619, 0.493091457, 0.495430759, 0.497992892, 0.500874767, 0.504106146, 0.507732688, 0.511874729, 0.516668635, 0.522133279, 0.528420065, 0.535519847, 0.543327695, 0.551615211, 0.560364178, 0.569353407, 0.578559851, 0.588022127, 0.597764961, 0.607818479, 0.618374991, 0.629504087, 0.641429754, 0.654362395, 0.668309494, 0.683127591, 0.698529964, 0.714320123, 0.730256731, 0.746106292, 0.761718272, 0.777054096, 0.792125015, 0.806928363, 0.821567252, 0.836153821, 0.850685769, 0.865307939, 0.87993042, 0.894546754, 0.909020415, 0.923112208, 0.936492017, 0.948805381, 0.959726546, 0.969206481, 0.977217575, 0.98415149, 0.990330215, 0.996066463, 1, 1, 1, 1], degree=3))
        make_face()
    extrude(amount=BOSS_EXTRUDE3_DEPTH)


with BuildPart() as part_1:
    add(part.part)

    add(body_2.part)  # Boss-Extrude4 merges body 2

    add(body_3.part)  # Boss-Extrude4 merges body 3
    # Sketch3 → Boss-Extrude4 (add)
    with BuildSketch(Plane.XY):
        with BuildLine():
            Line((213.125966849, -32.061833101), (405.369105002, 160.181305053))
            Line((405.369105002, 160.181305053), (452.864487175, 160.181305053))
            Line((452.864487175, 160.181305053), (331.632547469, -0.155801536))
            add(Edge.make_bspline(
                [(331.632547469, -0.155801536), (331.304804648, -0.038615704), (310.948001787, -13.886411779), (288.850742925, -21.453130062), (253.898831549, -29.814375257), (227.164983916, -31.411783789), (213.51914951, -32.043772488), (213.125966849, -32.061833101)],
                knots=[0, 0, 0, 0, 0.026267805, 0.05101645, 0.098803999, 0.146245906, 0.147653033, 0.147653033, 0.147653033, 0.147653033], degree=3))
        make_face()
    boss_extrude4 = extrude(amount=-BOSS_EXTRUDE4_DEPTH)

    # Mirror1: Boss-Extrude4 across plane
    add(boss_extrude4.mirror(Plane.XY.offset(125)))

    # Sketch4 → Boss-Extrude5 (add)
    with BuildSketch(Plane.XY.offset(65)):
        with BuildLine():
            Line((78.317658396, -92.701211002), (430.835794689, -92.701211002))
            Line((430.835794689, -92.701211002), (430.835794689, -47.701211002))
            Line((430.835794689, -47.701211002), (252.578779402, -47.701211002))
            add(Edge.make_bspline(
                [(78.317658396, -92.701211002), (85.487296777, -92.436977364), (105.968339263, -91.140805042), (139.702918156, -86.499514592), (178.98654912, -76.560782021), (216.835339314, -63.237026295), (240.830238981, -53.203892018), (252.578779402, -47.701211002)],
                knots=[0.675412528, 0.675412528, 0.675412528, 0.675412528, 0.700937477, 0.748405772, 0.79632416, 0.845052217, 0.890412239, 0.890412239, 0.890412239, 0.890412239], degree=3))
        make_face()
    boss_extrude5 = extrude(amount=-BOSS_EXTRUDE5_DEPTH)

    # LPattern1: Boss-Extrude5 ×6
    with Locations(*[(0, 0, i * LPATTERN1_PITCH) for i in range(1, LPATTERN1_COUNT)]):
        add(boss_extrude5)


solid = part_1.part
